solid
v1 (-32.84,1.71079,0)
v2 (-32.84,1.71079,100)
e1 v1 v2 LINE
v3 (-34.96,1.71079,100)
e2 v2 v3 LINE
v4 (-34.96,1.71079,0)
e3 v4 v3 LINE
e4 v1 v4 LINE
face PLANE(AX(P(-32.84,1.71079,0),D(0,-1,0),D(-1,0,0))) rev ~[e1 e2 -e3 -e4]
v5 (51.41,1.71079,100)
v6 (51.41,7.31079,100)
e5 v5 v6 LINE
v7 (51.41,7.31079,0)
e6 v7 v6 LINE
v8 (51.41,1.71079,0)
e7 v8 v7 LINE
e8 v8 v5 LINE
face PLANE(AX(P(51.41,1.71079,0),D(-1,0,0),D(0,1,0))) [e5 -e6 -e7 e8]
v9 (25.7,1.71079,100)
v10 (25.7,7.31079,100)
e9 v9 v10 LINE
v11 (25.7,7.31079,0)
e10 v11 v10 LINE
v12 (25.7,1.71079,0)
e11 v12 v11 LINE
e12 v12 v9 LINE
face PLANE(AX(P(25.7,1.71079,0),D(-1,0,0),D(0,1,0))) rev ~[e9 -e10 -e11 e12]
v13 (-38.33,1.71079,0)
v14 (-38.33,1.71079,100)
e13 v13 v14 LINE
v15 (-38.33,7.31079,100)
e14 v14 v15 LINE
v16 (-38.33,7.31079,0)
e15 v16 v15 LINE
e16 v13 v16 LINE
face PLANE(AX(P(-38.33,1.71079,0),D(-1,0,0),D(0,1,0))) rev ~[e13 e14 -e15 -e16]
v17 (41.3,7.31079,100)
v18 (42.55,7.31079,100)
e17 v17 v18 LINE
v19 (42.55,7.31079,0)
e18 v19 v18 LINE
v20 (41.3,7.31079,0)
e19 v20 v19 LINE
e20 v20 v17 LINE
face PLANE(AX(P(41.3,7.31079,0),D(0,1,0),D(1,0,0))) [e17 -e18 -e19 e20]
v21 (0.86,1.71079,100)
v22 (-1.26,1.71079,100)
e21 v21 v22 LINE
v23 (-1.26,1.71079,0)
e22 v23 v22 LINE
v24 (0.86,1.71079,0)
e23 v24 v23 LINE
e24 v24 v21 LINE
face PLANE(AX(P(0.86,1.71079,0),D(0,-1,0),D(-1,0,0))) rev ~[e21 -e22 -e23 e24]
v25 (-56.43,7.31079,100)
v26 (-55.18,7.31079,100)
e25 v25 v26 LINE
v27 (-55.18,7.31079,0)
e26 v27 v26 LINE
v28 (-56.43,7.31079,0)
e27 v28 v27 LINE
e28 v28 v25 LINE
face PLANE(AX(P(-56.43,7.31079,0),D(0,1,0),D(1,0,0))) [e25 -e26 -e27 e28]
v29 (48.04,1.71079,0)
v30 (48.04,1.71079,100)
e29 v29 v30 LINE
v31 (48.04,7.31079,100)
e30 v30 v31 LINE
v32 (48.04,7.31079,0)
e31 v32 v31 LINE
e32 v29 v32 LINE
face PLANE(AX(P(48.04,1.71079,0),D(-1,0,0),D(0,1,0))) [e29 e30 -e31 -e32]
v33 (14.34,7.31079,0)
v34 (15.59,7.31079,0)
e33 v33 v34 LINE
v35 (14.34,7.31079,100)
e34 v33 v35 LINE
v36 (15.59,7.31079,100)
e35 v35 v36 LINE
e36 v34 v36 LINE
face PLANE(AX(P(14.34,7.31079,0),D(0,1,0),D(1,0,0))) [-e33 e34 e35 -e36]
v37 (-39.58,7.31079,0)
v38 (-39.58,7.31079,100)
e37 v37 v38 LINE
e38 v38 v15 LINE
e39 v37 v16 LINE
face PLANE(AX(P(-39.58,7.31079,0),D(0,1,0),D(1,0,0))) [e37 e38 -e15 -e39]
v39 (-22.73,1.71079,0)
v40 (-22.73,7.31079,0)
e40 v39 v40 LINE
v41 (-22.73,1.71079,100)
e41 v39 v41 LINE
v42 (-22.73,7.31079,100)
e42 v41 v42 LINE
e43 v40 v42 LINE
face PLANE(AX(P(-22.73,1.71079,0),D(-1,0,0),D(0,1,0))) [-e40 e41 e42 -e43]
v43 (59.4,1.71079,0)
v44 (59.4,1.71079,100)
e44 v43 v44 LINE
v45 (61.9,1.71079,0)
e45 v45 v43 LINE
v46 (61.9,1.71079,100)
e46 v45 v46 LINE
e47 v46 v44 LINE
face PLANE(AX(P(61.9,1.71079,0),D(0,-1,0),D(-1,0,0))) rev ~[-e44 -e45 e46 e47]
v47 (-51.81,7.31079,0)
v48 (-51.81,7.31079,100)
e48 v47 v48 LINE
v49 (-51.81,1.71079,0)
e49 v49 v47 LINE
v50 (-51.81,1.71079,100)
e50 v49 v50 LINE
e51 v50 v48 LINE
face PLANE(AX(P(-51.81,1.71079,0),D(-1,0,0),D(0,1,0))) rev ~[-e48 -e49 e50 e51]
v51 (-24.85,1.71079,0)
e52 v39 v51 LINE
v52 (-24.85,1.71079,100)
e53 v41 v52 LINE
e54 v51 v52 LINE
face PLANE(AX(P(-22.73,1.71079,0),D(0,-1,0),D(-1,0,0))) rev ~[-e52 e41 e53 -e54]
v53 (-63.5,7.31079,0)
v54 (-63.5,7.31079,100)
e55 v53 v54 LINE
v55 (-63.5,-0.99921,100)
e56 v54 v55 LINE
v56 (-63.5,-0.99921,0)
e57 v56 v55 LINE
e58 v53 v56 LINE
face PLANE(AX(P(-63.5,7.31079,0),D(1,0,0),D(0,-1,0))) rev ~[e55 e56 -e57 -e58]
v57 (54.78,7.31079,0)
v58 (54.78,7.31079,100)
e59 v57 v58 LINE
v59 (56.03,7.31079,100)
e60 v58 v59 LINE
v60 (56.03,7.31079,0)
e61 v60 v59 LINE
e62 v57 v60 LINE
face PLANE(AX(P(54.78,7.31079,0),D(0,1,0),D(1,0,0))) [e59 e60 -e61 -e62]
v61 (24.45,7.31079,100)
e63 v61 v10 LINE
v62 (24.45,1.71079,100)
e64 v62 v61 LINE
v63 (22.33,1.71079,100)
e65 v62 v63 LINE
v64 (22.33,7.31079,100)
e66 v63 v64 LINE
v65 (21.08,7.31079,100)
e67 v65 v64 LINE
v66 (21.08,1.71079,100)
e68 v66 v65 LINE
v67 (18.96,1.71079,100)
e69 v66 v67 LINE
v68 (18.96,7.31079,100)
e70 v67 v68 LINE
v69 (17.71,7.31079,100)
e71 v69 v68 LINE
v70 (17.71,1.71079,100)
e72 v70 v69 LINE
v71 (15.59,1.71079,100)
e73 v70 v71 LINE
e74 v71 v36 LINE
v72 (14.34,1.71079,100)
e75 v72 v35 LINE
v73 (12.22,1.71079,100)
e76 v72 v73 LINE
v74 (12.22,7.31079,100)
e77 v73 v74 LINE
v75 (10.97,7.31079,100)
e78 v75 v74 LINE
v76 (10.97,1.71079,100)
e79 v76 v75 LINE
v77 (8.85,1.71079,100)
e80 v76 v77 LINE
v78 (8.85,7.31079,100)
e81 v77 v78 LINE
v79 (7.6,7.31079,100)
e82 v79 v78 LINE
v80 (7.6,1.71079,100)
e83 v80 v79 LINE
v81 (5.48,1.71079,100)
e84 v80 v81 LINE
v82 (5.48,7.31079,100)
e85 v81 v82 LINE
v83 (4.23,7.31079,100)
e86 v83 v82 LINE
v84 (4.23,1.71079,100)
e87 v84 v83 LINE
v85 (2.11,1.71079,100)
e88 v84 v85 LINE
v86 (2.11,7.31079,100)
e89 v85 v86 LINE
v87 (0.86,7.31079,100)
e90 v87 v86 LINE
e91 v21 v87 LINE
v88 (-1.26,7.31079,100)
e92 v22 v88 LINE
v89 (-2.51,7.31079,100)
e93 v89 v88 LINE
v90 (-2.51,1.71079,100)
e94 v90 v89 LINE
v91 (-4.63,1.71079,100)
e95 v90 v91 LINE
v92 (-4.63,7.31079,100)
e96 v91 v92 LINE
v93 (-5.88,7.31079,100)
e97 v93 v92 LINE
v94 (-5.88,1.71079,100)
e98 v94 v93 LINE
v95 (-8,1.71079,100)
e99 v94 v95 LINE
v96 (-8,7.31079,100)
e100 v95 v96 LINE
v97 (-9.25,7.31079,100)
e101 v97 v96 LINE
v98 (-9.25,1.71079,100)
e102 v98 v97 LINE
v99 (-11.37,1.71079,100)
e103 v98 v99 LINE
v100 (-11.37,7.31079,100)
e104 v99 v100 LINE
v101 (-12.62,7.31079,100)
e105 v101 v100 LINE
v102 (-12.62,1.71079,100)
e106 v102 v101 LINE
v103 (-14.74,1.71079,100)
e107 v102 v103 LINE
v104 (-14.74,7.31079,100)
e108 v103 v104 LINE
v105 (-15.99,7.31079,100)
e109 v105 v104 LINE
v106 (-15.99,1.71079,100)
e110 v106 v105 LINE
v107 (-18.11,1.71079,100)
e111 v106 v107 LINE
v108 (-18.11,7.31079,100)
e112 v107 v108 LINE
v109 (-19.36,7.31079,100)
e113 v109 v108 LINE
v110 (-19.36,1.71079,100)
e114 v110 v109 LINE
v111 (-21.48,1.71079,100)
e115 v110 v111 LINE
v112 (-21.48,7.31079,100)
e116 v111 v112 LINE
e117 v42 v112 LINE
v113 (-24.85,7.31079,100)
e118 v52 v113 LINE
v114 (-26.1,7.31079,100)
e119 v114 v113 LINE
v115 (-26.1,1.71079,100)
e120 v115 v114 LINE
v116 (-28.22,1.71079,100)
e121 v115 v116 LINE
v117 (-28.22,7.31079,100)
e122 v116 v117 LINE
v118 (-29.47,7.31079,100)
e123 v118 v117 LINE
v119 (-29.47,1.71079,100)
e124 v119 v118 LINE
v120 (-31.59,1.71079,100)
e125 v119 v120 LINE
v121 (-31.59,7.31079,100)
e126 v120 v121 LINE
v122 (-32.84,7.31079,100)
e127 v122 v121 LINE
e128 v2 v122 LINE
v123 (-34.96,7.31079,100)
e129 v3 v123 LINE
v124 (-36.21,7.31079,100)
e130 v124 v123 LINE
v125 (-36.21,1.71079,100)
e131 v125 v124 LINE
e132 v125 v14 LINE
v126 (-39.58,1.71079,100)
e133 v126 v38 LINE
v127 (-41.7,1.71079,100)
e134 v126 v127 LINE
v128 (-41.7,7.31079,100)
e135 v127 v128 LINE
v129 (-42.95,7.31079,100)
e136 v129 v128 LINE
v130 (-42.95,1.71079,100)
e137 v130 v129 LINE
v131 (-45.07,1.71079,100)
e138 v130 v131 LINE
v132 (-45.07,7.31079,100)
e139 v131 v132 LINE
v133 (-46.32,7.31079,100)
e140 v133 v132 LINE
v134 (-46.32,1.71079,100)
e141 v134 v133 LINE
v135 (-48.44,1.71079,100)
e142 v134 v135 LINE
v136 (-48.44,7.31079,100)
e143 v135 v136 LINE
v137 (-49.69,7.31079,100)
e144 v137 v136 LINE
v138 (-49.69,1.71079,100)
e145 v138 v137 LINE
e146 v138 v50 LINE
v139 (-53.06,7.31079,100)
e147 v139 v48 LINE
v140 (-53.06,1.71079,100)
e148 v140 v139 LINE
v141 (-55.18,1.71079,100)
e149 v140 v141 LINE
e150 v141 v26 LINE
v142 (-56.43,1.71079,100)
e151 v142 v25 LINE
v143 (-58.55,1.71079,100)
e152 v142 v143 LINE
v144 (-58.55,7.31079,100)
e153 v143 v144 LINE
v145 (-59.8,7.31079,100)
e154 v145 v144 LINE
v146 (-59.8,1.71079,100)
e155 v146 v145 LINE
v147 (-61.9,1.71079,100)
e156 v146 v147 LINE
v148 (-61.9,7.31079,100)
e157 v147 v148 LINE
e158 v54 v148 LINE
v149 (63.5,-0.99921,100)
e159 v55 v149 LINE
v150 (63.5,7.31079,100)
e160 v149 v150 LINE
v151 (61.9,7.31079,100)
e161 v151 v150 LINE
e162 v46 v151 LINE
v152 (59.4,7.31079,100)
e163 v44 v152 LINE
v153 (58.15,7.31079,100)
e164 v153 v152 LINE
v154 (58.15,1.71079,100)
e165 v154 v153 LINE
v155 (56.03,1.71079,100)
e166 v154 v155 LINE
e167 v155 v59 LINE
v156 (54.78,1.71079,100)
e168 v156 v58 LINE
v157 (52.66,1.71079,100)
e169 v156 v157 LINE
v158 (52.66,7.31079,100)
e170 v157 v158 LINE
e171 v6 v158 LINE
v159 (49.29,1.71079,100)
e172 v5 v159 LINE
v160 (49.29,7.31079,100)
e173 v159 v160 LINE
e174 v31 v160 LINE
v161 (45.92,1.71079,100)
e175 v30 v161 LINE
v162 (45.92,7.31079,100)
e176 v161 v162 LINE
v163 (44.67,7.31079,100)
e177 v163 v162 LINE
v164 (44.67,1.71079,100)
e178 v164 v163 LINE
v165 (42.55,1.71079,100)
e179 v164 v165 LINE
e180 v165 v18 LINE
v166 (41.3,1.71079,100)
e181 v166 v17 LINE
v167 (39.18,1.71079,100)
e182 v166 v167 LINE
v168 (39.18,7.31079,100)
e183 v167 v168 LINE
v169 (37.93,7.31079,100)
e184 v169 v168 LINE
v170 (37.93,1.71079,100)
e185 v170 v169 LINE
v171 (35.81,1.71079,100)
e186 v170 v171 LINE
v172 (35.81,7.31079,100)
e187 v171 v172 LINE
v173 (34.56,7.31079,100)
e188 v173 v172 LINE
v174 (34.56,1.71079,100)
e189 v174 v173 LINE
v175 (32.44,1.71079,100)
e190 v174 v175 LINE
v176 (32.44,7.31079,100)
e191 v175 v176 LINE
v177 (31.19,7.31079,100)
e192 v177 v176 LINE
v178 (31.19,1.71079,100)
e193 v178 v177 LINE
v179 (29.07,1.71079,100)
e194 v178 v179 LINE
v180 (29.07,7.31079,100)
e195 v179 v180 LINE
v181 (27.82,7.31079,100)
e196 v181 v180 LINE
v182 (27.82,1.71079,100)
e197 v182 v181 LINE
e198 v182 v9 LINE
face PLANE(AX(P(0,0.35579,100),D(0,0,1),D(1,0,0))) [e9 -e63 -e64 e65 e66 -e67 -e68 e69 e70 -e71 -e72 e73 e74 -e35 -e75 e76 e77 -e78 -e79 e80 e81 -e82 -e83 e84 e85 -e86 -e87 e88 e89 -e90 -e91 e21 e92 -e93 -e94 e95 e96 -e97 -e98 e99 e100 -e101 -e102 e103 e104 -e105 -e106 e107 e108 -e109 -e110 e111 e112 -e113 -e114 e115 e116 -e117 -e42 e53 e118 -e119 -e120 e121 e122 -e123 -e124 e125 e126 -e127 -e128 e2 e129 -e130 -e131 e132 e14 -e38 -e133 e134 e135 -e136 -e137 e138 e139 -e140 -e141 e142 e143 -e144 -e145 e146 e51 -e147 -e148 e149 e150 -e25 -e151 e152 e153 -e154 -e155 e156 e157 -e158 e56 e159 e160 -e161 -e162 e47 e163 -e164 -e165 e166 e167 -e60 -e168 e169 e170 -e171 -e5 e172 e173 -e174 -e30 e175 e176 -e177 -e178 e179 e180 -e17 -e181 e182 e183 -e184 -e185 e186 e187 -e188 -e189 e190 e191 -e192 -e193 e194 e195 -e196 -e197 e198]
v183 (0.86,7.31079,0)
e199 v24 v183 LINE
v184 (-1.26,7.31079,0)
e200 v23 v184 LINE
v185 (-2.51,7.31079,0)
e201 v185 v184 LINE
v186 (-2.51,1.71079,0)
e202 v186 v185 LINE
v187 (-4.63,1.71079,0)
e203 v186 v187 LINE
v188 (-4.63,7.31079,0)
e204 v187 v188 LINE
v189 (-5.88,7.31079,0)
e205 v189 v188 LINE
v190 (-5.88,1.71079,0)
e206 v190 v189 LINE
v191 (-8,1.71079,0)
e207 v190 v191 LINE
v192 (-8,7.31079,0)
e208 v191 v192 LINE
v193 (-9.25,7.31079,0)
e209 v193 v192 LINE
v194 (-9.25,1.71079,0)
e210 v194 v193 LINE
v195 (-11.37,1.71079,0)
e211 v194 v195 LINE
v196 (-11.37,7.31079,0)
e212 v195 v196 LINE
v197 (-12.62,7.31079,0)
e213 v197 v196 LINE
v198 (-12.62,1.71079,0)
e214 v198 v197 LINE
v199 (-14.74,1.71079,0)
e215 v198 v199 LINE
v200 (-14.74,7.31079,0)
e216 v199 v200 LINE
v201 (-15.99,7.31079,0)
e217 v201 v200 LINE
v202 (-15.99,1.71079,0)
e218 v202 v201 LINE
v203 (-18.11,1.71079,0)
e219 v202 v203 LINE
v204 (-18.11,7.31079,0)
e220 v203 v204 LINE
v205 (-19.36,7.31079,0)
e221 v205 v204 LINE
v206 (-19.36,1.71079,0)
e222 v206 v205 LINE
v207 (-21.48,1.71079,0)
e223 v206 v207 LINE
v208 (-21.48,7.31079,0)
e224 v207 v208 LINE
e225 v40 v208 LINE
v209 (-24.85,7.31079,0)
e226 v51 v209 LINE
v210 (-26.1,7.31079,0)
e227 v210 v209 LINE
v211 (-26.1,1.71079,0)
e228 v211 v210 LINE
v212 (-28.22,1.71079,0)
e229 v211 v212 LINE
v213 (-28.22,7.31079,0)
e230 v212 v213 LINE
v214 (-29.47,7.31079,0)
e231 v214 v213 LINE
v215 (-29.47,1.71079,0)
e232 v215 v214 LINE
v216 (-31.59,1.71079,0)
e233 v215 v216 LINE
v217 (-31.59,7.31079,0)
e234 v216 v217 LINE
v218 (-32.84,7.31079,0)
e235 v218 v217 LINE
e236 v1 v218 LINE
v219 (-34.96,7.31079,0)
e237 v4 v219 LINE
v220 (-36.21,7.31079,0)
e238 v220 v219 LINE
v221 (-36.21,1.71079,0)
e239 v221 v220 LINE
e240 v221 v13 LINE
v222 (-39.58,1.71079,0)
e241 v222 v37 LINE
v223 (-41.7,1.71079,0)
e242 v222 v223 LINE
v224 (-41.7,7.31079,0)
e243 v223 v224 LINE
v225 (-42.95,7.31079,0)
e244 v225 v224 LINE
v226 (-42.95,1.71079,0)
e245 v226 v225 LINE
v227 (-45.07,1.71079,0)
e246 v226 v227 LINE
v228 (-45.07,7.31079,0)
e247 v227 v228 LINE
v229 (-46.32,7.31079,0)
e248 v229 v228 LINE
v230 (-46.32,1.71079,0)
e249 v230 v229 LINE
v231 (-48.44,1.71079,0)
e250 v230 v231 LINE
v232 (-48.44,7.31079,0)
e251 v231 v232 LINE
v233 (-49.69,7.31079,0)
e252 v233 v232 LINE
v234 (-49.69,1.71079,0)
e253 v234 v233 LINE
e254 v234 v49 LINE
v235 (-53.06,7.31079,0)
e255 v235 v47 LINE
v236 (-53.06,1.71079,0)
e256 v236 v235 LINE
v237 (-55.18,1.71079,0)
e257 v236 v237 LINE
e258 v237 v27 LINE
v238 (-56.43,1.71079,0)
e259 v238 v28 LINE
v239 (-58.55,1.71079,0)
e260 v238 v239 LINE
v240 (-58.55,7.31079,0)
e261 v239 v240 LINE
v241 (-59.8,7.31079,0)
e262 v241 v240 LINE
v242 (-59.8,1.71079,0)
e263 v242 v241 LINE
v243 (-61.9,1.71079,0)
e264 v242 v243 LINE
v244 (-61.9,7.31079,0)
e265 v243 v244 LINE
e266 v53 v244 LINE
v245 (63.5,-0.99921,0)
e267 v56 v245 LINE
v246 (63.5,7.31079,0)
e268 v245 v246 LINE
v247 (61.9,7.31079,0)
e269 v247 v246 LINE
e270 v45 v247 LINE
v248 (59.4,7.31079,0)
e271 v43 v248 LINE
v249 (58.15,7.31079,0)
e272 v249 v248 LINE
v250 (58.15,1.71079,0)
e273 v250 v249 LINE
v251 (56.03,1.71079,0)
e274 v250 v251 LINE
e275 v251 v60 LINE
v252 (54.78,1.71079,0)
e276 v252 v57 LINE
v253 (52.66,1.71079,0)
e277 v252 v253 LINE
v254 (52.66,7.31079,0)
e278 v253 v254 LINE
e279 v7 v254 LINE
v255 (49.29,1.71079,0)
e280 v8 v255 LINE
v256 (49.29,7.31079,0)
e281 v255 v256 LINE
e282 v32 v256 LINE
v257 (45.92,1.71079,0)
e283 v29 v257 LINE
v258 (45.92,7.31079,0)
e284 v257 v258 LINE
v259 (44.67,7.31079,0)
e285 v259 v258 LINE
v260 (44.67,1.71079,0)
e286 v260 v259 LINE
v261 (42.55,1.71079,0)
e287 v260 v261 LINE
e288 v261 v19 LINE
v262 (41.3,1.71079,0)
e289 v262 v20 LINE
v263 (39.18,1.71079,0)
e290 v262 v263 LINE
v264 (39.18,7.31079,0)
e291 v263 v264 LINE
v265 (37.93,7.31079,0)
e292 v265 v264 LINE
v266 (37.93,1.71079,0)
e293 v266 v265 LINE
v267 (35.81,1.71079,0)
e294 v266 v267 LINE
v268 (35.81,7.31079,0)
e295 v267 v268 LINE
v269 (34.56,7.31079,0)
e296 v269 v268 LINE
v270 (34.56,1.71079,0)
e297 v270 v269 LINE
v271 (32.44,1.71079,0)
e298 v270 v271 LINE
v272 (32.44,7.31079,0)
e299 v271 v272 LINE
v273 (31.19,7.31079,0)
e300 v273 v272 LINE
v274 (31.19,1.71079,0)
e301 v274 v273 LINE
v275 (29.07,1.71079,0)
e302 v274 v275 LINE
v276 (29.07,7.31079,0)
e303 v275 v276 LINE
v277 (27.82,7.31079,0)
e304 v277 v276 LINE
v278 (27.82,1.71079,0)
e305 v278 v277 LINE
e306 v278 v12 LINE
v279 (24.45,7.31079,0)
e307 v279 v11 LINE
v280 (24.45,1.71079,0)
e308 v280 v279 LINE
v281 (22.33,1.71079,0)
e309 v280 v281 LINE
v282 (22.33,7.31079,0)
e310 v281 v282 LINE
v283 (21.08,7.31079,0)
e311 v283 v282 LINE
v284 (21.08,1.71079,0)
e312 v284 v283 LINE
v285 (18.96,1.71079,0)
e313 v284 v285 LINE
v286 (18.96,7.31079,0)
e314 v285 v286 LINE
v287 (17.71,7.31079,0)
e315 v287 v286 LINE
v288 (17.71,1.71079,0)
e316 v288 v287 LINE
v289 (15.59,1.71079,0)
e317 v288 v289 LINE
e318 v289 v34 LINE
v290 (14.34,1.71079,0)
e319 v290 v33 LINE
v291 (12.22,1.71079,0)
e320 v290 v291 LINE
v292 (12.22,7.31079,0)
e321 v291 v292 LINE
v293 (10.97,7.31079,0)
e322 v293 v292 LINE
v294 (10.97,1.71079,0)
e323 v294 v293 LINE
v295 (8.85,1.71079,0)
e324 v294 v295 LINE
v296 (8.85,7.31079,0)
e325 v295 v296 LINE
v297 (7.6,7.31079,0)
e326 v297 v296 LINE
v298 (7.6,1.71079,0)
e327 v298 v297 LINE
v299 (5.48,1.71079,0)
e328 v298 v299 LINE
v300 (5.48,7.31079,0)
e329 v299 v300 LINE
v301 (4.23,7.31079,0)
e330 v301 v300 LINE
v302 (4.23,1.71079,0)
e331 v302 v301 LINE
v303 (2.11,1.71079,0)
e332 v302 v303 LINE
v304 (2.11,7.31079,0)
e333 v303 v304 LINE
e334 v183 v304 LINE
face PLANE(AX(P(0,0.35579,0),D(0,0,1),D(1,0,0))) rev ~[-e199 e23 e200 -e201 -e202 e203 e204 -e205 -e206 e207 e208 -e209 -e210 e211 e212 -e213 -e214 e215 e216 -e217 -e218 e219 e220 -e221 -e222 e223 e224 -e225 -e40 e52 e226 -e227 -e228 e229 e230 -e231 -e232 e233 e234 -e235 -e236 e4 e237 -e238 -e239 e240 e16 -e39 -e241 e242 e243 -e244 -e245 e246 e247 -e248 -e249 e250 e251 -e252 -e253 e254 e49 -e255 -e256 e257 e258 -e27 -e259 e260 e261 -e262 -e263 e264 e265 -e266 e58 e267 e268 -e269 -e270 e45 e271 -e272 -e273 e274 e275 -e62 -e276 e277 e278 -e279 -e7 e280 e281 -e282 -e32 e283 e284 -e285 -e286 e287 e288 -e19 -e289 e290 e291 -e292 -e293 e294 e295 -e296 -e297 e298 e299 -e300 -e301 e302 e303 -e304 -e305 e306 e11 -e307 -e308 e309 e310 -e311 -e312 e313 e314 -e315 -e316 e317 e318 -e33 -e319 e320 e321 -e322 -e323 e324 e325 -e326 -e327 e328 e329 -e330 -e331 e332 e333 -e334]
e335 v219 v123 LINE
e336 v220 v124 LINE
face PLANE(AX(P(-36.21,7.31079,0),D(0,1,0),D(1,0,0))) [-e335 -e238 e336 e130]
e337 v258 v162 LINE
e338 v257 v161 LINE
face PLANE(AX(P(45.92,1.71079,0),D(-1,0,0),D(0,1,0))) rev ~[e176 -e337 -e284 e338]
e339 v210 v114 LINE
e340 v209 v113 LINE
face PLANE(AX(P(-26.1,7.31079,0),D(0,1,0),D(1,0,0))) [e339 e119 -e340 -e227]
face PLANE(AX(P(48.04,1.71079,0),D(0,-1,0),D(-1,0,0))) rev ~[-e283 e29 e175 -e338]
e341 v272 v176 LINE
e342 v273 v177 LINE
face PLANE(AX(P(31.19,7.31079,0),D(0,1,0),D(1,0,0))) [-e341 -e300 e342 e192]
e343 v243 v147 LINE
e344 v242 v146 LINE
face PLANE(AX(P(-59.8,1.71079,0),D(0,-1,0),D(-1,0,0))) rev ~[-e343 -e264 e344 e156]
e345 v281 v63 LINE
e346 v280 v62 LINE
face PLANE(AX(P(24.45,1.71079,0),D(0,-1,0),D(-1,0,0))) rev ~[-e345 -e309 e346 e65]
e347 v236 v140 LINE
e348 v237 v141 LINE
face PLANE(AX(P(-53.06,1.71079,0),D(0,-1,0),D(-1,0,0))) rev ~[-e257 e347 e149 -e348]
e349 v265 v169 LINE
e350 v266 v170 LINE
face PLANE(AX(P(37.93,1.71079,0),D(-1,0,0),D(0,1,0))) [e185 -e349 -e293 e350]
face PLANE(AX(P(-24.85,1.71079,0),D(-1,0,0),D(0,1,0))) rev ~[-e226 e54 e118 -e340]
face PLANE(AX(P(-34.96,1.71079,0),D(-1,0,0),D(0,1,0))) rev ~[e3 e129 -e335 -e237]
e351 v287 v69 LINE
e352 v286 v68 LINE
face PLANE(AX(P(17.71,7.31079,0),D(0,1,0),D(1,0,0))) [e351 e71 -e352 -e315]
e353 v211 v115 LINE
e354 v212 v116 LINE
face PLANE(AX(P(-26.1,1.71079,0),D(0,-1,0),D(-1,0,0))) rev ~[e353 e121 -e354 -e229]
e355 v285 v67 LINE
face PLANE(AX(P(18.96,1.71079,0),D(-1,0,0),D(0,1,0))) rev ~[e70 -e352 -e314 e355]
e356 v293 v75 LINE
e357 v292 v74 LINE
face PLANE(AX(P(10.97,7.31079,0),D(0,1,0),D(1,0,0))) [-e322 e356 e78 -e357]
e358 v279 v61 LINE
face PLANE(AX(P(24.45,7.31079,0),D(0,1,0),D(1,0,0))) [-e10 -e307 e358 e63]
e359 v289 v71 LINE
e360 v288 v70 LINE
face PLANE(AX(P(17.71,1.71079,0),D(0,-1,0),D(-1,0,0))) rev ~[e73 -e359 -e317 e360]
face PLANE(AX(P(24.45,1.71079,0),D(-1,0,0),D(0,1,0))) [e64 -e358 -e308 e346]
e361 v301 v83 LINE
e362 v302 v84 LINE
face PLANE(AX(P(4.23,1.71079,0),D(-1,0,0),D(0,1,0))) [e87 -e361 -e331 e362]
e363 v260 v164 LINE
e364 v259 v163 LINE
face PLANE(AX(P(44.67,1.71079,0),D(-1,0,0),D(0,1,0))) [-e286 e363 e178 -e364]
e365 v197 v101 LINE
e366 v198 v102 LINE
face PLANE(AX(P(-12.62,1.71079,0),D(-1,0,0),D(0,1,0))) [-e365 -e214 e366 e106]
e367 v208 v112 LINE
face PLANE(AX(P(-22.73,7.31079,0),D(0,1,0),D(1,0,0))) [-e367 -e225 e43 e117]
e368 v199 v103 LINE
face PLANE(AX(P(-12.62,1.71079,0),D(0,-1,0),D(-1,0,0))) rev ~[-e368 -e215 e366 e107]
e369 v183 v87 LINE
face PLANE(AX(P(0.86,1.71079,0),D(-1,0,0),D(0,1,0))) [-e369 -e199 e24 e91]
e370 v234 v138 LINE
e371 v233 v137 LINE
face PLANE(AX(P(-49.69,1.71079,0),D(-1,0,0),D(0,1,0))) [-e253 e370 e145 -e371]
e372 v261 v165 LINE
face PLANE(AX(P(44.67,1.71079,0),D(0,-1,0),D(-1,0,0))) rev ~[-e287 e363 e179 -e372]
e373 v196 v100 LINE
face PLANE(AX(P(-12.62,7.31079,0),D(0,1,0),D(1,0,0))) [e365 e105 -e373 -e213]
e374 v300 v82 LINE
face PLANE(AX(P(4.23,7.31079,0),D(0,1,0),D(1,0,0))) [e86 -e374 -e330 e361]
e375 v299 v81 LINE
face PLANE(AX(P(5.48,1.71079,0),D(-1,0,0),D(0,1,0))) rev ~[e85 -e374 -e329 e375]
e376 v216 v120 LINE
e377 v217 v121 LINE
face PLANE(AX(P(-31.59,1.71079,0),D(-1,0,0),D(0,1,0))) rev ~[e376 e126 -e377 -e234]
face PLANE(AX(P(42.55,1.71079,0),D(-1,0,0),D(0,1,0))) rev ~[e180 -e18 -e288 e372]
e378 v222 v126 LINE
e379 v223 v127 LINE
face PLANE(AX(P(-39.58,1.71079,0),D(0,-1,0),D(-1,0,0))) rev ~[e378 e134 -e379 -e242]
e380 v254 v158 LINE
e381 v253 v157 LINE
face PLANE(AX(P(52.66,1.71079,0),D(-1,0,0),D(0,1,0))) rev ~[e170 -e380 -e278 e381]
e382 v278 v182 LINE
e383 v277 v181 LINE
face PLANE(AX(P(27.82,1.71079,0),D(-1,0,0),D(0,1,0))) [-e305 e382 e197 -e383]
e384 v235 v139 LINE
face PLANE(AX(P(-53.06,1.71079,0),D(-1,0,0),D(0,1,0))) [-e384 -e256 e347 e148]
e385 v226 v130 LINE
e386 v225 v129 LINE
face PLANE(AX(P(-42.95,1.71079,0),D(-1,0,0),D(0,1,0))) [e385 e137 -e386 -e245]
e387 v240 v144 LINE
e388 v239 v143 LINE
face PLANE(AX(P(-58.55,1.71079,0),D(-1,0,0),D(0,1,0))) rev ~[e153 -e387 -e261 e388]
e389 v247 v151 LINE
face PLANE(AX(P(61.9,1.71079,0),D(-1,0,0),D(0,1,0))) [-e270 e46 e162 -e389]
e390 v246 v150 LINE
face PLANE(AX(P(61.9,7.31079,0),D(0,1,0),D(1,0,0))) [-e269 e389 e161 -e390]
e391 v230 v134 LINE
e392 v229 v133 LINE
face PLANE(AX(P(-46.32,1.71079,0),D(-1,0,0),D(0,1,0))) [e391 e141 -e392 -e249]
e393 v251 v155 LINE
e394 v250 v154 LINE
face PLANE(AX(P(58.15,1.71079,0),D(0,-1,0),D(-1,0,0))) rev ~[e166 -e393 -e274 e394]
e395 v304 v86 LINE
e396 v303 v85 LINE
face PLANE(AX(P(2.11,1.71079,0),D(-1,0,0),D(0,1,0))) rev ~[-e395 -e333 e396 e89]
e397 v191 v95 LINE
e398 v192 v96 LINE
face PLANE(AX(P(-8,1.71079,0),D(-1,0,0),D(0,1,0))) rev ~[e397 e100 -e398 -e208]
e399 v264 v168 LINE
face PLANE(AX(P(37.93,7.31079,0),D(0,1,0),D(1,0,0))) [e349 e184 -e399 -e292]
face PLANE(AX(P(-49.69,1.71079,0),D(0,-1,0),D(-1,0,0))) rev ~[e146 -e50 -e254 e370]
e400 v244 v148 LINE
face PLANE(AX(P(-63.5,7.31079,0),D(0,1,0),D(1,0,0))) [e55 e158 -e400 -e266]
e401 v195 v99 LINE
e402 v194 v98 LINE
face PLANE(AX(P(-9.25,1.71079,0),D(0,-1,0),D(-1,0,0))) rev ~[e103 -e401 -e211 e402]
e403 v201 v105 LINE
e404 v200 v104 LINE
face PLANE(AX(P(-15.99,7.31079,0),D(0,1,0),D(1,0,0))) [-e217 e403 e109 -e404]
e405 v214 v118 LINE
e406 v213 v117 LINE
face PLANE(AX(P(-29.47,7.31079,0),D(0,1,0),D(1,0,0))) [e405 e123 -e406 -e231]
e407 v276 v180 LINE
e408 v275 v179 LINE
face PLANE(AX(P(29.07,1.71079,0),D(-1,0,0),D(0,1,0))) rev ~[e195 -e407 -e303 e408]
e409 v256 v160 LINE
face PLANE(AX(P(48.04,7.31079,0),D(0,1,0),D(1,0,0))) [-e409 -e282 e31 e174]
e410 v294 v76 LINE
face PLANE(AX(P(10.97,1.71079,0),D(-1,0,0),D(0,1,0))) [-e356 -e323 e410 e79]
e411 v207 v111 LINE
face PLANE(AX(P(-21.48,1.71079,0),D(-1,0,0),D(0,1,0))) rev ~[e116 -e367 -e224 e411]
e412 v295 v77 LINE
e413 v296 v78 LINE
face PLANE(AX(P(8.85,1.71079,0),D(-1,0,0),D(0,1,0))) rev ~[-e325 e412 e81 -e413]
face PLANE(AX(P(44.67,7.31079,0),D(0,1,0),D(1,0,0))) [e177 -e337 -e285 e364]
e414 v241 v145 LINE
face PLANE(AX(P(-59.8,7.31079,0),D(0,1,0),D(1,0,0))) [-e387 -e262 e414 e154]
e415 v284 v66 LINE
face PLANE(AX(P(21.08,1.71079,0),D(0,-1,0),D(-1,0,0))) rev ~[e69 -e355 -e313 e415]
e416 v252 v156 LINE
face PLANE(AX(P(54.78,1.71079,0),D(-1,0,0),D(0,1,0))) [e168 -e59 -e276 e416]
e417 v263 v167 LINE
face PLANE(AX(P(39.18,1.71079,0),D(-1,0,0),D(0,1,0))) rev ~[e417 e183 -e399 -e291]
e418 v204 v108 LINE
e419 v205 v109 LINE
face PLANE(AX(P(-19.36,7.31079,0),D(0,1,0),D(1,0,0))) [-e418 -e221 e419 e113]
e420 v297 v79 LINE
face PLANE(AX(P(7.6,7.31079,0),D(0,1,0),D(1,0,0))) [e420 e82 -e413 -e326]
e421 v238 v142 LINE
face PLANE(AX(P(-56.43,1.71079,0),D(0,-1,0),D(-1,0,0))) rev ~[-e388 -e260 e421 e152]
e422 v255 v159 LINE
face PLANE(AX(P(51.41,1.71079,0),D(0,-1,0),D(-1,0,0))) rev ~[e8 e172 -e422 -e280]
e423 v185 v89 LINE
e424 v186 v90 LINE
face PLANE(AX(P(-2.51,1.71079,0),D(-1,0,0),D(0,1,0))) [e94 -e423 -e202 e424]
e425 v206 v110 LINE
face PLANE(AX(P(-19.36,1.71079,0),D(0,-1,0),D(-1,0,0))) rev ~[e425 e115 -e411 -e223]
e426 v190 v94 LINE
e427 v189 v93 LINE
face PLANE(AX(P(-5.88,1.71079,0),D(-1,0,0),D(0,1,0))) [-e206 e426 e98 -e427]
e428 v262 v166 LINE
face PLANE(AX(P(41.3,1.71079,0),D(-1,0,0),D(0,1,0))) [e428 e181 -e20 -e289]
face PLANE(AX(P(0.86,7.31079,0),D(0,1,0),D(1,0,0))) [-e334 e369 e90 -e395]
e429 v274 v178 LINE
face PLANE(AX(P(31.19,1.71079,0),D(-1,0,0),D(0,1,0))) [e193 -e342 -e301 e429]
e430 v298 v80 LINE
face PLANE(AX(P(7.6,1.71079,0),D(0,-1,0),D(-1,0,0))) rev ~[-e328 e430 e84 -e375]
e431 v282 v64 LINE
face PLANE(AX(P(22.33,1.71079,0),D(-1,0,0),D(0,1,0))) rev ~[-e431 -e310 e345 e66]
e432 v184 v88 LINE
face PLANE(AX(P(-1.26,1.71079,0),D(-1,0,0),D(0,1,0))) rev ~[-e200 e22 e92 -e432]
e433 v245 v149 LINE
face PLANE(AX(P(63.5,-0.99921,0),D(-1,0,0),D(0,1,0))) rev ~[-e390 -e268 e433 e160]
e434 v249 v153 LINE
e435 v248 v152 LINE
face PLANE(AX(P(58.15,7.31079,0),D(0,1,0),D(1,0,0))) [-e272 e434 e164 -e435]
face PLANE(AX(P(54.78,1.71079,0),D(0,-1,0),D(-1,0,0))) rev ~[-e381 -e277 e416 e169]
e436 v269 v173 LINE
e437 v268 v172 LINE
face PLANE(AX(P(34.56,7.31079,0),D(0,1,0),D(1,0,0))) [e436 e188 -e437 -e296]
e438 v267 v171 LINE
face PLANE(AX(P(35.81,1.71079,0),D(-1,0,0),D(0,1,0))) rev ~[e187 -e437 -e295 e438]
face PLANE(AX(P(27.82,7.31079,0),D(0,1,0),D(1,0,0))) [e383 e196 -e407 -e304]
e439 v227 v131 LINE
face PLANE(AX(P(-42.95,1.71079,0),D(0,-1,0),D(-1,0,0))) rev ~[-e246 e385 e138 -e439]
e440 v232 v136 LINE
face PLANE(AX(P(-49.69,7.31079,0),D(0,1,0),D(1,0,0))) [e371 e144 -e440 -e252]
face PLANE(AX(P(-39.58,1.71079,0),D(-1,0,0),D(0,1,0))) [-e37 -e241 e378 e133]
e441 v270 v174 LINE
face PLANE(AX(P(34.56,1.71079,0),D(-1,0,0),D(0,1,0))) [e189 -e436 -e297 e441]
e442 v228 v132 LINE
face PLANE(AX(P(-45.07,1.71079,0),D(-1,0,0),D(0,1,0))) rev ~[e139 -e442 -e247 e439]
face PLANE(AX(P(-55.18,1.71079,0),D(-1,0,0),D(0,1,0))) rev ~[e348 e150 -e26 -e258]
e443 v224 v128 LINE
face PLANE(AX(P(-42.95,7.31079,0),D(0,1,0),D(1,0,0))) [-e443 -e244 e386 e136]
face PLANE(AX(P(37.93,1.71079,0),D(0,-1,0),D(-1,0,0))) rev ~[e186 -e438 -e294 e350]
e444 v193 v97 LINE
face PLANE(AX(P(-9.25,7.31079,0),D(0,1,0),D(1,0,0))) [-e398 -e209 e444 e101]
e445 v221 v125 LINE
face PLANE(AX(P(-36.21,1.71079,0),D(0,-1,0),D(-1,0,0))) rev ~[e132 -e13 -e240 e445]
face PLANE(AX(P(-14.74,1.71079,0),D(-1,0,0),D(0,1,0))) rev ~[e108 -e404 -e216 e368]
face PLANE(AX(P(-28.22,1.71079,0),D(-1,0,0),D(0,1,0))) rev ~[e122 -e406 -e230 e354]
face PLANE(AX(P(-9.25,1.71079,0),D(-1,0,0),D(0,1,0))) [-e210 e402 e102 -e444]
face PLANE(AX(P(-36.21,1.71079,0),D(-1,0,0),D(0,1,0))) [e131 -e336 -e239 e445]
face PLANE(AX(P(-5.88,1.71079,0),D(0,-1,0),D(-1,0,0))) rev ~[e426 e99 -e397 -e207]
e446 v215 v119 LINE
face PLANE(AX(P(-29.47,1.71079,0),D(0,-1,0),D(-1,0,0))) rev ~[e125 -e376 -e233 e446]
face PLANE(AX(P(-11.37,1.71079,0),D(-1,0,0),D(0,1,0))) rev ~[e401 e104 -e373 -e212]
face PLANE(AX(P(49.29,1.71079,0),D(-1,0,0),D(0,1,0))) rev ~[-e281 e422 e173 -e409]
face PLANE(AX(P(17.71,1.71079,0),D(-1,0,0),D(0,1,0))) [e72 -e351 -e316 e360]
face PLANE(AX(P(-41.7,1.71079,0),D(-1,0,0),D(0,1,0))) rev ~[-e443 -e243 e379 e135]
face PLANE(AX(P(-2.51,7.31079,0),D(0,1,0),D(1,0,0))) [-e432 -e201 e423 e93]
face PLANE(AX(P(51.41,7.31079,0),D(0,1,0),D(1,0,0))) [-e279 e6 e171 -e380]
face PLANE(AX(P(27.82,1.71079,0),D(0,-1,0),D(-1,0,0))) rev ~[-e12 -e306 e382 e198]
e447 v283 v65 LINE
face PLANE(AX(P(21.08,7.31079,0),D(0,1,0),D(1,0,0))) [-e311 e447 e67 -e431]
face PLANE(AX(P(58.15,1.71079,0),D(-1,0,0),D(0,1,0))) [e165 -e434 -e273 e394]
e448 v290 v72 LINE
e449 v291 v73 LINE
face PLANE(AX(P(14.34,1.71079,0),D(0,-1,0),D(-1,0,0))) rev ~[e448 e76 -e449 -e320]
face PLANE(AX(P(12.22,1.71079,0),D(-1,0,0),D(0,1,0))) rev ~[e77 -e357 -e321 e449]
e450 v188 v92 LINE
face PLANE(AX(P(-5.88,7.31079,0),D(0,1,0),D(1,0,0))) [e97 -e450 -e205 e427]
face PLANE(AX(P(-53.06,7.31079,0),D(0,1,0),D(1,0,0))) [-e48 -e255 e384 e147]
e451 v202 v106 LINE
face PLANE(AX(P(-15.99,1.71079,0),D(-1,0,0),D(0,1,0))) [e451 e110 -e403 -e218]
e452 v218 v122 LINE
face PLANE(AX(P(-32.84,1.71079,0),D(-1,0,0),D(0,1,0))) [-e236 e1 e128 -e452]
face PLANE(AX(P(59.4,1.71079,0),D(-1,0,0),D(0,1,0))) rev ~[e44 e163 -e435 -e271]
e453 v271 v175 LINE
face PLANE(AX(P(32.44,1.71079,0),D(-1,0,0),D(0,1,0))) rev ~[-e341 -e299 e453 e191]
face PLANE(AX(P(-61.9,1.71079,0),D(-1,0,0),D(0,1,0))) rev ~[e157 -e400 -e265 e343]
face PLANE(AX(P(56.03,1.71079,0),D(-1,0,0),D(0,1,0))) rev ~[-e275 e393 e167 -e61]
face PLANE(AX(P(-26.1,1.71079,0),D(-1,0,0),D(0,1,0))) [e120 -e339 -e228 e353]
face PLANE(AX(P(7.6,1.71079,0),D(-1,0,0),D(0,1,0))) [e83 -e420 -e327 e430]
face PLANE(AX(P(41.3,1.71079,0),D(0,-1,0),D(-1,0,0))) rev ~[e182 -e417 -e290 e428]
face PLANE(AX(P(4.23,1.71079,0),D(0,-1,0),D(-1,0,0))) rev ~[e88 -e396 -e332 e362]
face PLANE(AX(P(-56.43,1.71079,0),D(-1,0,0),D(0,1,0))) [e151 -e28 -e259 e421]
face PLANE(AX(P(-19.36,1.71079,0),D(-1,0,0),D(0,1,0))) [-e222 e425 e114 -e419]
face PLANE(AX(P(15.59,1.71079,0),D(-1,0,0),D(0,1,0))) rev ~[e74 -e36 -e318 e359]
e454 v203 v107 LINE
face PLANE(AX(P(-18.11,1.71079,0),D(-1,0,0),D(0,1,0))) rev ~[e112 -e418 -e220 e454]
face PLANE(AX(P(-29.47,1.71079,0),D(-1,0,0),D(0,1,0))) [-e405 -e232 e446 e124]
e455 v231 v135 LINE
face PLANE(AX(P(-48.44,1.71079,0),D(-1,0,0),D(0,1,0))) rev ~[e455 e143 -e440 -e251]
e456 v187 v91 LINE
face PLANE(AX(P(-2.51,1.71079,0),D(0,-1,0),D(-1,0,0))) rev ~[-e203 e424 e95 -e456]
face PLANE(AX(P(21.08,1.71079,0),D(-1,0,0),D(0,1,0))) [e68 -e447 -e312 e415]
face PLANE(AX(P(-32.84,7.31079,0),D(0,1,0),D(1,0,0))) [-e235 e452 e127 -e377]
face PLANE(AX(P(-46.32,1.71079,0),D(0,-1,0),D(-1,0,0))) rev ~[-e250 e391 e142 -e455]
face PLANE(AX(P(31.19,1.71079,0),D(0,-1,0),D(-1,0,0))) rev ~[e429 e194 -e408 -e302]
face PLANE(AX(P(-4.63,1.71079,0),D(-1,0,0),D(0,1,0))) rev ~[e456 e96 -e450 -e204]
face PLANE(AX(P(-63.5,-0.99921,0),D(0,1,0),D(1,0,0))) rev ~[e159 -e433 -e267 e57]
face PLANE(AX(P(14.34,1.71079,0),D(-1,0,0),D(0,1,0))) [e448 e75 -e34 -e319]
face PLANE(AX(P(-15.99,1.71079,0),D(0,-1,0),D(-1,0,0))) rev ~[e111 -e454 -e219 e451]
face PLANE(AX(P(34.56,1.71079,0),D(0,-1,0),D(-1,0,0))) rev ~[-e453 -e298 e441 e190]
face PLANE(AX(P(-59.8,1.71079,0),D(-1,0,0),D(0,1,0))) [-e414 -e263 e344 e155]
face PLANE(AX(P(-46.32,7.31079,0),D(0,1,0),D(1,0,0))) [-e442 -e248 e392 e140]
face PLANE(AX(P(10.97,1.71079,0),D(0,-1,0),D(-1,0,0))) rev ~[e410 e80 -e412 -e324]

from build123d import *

# Parameters (mm, degrees)
SKETCH_1_W      = 1.6
SKETCH_1_H      = 5.6
SKETCH_1_W_2    = 1.25
EXTRUDE_1_DEPTH = 100


with BuildPart() as part:
    # 草图1 → 凸台-拉伸1 (new body)
    with BuildSketch(Plane.XY):
        Polygon((-63.5, 1.710790235), (-63.5, -0.999209765), (63.5, -0.999209765), (63.5, 1.710790235), (61.9, 1.710790235), (59.4, 1.710790235), (58.15, 1.710790235), (56.03, 1.710790235), (54.78, 1.710790235), (52.66, 1.710790235), (51.41, 1.710790235), (49.29, 1.710790235), (48.04, 1.710790235), (45.92, 1.710790235), (44.67, 1.710790235), (42.55, 1.710790235), (41.3, 1.710790235), (39.18, 1.710790235), (37.93, 1.710790235), (35.81, 1.710790235), (34.56, 1.710790235), (32.44, 1.710790235), (31.19, 1.710790235), (29.07, 1.710790235), (27.82, 1.710790235), (25.7, 1.710790235), (24.45, 1.710790235), (22.33, 1.710790235), (21.08, 1.710790235), (18.96, 1.710790235), (17.71, 1.710790235), (15.59, 1.710790235), (14.34, 1.710790235), (12.22, 1.710790235), (10.97, 1.710790235), (8.85, 1.710790235), (7.6, 1.710790235), (5.48, 1.710790235), (4.23, 1.710790235), (2.11, 1.710790235), (0.86, 1.710790235), (-1.26, 1.710790235), (-2.51, 1.710790235), (-4.63, 1.710790235), (-5.88, 1.710790235), (-8, 1.710790235), (-9.25, 1.710790235), (-11.37, 1.710790235), (-12.62, 1.710790235), (-14.74, 1.710790235), (-15.99, 1.710790235), (-18.11, 1.710790235), (-19.36, 1.710790235), (-21.48, 1.710790235), (-22.73, 1.710790235), (-24.85, 1.710790235), (-26.1, 1.710790235), (-28.22, 1.710790235), (-29.47, 1.710790235), (-31.59, 1.710790235), (-32.84, 1.710790235), (-34.96, 1.710790235), (-36.21, 1.710790235), (-38.33, 1.710790235), (-39.58, 1.710790235), (-41.7, 1.710790235), (-42.95, 1.710790235), (-45.07, 1.710790235), (-46.32, 1.710790235), (-48.44, 1.710790235), (-49.69, 1.710790235), (-51.81, 1.710790235), (-53.06, 1.710790235), (-55.18, 1.710790235), (-56.43, 1.710790235), (-58.55, 1.710790235), (-59.8, 1.710790235), (-61.9, 1.710790235), align=None)
        with Locations((-62.7, 4.510790235)):
            Rectangle(SKETCH_1_W, SKETCH_1_H)
        with Locations((62.7, 4.510790235)):
            Rectangle(SKETCH_1_W, SKETCH_1_H)
        with Locations((-59.175, 4.510790235)):
            Rectangle(SKETCH_1_W_2, SKETCH_1_H)
        with Locations((58.775, 4.510790235)):
            Rectangle(SKETCH_1_W_2, SKETCH_1_H)
        with Locations((-55.805, 4.510790235)):
            Rectangle(SKETCH_1_W_2, SKETCH_1_H)
        with Locations((55.405, 4.510790235)):
            Rectangle(SKETCH_1_W_2, SKETCH_1_H)
        with Locations((-52.435, 4.510790235)):
            Rectangle(SKETCH_1_W_2, SKETCH_1_H)
        with Locations((52.035, 4.510790235)):
            Rectangle(SKETCH_1_W_2, SKETCH_1_H)
        with Locations((-49.065, 4.510790235)):
            Rectangle(SKETCH_1_W_2, SKETCH_1_H)
        with Locations((48.665, 4.510790235)):
            Rectangle(SKETCH_1_W_2, SKETCH_1_H)
        with Locations((-45.695, 4.510790235)):
            Rectangle(SKETCH_1_W_2, SKETCH_1_H)
        with Locations((45.295, 4.510790235)):
            Rectangle(SKETCH_1_W_2, SKETCH_1_H)
        with Locations((-42.325, 4.510790235)):
            Rectangle(SKETCH_1_W_2, SKETCH_1_H)
        with Locations((41.925, 4.510790235)):
            Rectangle(SKETCH_1_W_2, SKETCH_1_H)
        with Locations((-38.955, 4.510790235)):
            Rectangle(SKETCH_1_W_2, SKETCH_1_H)
        with Locations((38.555, 4.510790235)):
            Rectangle(SKETCH_1_W_2, SKETCH_1_H)
        with Locations((-35.585, 4.510790235)):
            Rectangle(SKETCH_1_W_2, SKETCH_1_H)
        with Locations((35.185, 4.510790235)):
            Rectangle(SKETCH_1_W_2, SKETCH_1_H)
        with Locations((-32.215, 4.510790235)):
            Rectangle(SKETCH_1_W_2, SKETCH_1_H)
        with Locations((31.815, 4.510790235)):
            Rectangle(SKETCH_1_W_2, SKETCH_1_H)
        with Locations((-28.845, 4.510790235)):
            Rectangle(SKETCH_1_W_2, SKETCH_1_H)
        with Locations((28.445, 4.510790235)):
            Rectangle(SKETCH_1_W_2, SKETCH_1_H)
        with Locations((-25.475, 4.510790235)):
            Rectangle(SKETCH_1_W_2, SKETCH_1_H)
        with Locations((25.075, 4.510790235)):
            Rectangle(SKETCH_1_W_2, SKETCH_1_H)
        with Locations((-22.105, 4.510790235)):
            Rectangle(SKETCH_1_W_2, SKETCH_1_H)
        with Locations((21.705, 4.510790235)):
            Rectangle(SKETCH_1_W_2, SKETCH_1_H)
        with Locations((-18.735, 4.510790235)):
            Rectangle(SKETCH_1_W_2, SKETCH_1_H)
        with Locations((18.335, 4.510790235)):
            Rectangle(SKETCH_1_W_2, SKETCH_1_H)
        with Locations((-15.365, 4.510790235)):
            Rectangle(SKETCH_1_W_2, SKETCH_1_H)
        with Locations((14.965, 4.510790235)):
            Rectangle(SKETCH_1_W_2, SKETCH_1_H)
        with Locations((-11.995, 4.510790235)):
            Rectangle(SKETCH_1_W_2, SKETCH_1_H)
        with Locations((11.595, 4.510790235)):
            Rectangle(SKETCH_1_W_2, SKETCH_1_H)
        with Locations((-8.625, 4.510790235)):
            Rectangle(SKETCH_1_W_2, SKETCH_1_H)
        with Locations((8.225, 4.510790235)):
            Rectangle(SKETCH_1_W_2, SKETCH_1_H)
        with Locations((-5.255, 4.510790235)):
            Rectangle(SKETCH_1_W_2, SKETCH_1_H)
        with Locations((4.855, 4.510790235)):
            Rectangle(SKETCH_1_W_2, SKETCH_1_H)
        with Locations((-1.885, 4.510790235)):
            Rectangle(SKETCH_1_W_2, SKETCH_1_H)
        with Locations((1.485, 4.510790235)):
            Rectangle(SKETCH_1_W_2, SKETCH_1_H)
    extrude(amount=EXTRUDE_1_DEPTH)


solid = part.part
